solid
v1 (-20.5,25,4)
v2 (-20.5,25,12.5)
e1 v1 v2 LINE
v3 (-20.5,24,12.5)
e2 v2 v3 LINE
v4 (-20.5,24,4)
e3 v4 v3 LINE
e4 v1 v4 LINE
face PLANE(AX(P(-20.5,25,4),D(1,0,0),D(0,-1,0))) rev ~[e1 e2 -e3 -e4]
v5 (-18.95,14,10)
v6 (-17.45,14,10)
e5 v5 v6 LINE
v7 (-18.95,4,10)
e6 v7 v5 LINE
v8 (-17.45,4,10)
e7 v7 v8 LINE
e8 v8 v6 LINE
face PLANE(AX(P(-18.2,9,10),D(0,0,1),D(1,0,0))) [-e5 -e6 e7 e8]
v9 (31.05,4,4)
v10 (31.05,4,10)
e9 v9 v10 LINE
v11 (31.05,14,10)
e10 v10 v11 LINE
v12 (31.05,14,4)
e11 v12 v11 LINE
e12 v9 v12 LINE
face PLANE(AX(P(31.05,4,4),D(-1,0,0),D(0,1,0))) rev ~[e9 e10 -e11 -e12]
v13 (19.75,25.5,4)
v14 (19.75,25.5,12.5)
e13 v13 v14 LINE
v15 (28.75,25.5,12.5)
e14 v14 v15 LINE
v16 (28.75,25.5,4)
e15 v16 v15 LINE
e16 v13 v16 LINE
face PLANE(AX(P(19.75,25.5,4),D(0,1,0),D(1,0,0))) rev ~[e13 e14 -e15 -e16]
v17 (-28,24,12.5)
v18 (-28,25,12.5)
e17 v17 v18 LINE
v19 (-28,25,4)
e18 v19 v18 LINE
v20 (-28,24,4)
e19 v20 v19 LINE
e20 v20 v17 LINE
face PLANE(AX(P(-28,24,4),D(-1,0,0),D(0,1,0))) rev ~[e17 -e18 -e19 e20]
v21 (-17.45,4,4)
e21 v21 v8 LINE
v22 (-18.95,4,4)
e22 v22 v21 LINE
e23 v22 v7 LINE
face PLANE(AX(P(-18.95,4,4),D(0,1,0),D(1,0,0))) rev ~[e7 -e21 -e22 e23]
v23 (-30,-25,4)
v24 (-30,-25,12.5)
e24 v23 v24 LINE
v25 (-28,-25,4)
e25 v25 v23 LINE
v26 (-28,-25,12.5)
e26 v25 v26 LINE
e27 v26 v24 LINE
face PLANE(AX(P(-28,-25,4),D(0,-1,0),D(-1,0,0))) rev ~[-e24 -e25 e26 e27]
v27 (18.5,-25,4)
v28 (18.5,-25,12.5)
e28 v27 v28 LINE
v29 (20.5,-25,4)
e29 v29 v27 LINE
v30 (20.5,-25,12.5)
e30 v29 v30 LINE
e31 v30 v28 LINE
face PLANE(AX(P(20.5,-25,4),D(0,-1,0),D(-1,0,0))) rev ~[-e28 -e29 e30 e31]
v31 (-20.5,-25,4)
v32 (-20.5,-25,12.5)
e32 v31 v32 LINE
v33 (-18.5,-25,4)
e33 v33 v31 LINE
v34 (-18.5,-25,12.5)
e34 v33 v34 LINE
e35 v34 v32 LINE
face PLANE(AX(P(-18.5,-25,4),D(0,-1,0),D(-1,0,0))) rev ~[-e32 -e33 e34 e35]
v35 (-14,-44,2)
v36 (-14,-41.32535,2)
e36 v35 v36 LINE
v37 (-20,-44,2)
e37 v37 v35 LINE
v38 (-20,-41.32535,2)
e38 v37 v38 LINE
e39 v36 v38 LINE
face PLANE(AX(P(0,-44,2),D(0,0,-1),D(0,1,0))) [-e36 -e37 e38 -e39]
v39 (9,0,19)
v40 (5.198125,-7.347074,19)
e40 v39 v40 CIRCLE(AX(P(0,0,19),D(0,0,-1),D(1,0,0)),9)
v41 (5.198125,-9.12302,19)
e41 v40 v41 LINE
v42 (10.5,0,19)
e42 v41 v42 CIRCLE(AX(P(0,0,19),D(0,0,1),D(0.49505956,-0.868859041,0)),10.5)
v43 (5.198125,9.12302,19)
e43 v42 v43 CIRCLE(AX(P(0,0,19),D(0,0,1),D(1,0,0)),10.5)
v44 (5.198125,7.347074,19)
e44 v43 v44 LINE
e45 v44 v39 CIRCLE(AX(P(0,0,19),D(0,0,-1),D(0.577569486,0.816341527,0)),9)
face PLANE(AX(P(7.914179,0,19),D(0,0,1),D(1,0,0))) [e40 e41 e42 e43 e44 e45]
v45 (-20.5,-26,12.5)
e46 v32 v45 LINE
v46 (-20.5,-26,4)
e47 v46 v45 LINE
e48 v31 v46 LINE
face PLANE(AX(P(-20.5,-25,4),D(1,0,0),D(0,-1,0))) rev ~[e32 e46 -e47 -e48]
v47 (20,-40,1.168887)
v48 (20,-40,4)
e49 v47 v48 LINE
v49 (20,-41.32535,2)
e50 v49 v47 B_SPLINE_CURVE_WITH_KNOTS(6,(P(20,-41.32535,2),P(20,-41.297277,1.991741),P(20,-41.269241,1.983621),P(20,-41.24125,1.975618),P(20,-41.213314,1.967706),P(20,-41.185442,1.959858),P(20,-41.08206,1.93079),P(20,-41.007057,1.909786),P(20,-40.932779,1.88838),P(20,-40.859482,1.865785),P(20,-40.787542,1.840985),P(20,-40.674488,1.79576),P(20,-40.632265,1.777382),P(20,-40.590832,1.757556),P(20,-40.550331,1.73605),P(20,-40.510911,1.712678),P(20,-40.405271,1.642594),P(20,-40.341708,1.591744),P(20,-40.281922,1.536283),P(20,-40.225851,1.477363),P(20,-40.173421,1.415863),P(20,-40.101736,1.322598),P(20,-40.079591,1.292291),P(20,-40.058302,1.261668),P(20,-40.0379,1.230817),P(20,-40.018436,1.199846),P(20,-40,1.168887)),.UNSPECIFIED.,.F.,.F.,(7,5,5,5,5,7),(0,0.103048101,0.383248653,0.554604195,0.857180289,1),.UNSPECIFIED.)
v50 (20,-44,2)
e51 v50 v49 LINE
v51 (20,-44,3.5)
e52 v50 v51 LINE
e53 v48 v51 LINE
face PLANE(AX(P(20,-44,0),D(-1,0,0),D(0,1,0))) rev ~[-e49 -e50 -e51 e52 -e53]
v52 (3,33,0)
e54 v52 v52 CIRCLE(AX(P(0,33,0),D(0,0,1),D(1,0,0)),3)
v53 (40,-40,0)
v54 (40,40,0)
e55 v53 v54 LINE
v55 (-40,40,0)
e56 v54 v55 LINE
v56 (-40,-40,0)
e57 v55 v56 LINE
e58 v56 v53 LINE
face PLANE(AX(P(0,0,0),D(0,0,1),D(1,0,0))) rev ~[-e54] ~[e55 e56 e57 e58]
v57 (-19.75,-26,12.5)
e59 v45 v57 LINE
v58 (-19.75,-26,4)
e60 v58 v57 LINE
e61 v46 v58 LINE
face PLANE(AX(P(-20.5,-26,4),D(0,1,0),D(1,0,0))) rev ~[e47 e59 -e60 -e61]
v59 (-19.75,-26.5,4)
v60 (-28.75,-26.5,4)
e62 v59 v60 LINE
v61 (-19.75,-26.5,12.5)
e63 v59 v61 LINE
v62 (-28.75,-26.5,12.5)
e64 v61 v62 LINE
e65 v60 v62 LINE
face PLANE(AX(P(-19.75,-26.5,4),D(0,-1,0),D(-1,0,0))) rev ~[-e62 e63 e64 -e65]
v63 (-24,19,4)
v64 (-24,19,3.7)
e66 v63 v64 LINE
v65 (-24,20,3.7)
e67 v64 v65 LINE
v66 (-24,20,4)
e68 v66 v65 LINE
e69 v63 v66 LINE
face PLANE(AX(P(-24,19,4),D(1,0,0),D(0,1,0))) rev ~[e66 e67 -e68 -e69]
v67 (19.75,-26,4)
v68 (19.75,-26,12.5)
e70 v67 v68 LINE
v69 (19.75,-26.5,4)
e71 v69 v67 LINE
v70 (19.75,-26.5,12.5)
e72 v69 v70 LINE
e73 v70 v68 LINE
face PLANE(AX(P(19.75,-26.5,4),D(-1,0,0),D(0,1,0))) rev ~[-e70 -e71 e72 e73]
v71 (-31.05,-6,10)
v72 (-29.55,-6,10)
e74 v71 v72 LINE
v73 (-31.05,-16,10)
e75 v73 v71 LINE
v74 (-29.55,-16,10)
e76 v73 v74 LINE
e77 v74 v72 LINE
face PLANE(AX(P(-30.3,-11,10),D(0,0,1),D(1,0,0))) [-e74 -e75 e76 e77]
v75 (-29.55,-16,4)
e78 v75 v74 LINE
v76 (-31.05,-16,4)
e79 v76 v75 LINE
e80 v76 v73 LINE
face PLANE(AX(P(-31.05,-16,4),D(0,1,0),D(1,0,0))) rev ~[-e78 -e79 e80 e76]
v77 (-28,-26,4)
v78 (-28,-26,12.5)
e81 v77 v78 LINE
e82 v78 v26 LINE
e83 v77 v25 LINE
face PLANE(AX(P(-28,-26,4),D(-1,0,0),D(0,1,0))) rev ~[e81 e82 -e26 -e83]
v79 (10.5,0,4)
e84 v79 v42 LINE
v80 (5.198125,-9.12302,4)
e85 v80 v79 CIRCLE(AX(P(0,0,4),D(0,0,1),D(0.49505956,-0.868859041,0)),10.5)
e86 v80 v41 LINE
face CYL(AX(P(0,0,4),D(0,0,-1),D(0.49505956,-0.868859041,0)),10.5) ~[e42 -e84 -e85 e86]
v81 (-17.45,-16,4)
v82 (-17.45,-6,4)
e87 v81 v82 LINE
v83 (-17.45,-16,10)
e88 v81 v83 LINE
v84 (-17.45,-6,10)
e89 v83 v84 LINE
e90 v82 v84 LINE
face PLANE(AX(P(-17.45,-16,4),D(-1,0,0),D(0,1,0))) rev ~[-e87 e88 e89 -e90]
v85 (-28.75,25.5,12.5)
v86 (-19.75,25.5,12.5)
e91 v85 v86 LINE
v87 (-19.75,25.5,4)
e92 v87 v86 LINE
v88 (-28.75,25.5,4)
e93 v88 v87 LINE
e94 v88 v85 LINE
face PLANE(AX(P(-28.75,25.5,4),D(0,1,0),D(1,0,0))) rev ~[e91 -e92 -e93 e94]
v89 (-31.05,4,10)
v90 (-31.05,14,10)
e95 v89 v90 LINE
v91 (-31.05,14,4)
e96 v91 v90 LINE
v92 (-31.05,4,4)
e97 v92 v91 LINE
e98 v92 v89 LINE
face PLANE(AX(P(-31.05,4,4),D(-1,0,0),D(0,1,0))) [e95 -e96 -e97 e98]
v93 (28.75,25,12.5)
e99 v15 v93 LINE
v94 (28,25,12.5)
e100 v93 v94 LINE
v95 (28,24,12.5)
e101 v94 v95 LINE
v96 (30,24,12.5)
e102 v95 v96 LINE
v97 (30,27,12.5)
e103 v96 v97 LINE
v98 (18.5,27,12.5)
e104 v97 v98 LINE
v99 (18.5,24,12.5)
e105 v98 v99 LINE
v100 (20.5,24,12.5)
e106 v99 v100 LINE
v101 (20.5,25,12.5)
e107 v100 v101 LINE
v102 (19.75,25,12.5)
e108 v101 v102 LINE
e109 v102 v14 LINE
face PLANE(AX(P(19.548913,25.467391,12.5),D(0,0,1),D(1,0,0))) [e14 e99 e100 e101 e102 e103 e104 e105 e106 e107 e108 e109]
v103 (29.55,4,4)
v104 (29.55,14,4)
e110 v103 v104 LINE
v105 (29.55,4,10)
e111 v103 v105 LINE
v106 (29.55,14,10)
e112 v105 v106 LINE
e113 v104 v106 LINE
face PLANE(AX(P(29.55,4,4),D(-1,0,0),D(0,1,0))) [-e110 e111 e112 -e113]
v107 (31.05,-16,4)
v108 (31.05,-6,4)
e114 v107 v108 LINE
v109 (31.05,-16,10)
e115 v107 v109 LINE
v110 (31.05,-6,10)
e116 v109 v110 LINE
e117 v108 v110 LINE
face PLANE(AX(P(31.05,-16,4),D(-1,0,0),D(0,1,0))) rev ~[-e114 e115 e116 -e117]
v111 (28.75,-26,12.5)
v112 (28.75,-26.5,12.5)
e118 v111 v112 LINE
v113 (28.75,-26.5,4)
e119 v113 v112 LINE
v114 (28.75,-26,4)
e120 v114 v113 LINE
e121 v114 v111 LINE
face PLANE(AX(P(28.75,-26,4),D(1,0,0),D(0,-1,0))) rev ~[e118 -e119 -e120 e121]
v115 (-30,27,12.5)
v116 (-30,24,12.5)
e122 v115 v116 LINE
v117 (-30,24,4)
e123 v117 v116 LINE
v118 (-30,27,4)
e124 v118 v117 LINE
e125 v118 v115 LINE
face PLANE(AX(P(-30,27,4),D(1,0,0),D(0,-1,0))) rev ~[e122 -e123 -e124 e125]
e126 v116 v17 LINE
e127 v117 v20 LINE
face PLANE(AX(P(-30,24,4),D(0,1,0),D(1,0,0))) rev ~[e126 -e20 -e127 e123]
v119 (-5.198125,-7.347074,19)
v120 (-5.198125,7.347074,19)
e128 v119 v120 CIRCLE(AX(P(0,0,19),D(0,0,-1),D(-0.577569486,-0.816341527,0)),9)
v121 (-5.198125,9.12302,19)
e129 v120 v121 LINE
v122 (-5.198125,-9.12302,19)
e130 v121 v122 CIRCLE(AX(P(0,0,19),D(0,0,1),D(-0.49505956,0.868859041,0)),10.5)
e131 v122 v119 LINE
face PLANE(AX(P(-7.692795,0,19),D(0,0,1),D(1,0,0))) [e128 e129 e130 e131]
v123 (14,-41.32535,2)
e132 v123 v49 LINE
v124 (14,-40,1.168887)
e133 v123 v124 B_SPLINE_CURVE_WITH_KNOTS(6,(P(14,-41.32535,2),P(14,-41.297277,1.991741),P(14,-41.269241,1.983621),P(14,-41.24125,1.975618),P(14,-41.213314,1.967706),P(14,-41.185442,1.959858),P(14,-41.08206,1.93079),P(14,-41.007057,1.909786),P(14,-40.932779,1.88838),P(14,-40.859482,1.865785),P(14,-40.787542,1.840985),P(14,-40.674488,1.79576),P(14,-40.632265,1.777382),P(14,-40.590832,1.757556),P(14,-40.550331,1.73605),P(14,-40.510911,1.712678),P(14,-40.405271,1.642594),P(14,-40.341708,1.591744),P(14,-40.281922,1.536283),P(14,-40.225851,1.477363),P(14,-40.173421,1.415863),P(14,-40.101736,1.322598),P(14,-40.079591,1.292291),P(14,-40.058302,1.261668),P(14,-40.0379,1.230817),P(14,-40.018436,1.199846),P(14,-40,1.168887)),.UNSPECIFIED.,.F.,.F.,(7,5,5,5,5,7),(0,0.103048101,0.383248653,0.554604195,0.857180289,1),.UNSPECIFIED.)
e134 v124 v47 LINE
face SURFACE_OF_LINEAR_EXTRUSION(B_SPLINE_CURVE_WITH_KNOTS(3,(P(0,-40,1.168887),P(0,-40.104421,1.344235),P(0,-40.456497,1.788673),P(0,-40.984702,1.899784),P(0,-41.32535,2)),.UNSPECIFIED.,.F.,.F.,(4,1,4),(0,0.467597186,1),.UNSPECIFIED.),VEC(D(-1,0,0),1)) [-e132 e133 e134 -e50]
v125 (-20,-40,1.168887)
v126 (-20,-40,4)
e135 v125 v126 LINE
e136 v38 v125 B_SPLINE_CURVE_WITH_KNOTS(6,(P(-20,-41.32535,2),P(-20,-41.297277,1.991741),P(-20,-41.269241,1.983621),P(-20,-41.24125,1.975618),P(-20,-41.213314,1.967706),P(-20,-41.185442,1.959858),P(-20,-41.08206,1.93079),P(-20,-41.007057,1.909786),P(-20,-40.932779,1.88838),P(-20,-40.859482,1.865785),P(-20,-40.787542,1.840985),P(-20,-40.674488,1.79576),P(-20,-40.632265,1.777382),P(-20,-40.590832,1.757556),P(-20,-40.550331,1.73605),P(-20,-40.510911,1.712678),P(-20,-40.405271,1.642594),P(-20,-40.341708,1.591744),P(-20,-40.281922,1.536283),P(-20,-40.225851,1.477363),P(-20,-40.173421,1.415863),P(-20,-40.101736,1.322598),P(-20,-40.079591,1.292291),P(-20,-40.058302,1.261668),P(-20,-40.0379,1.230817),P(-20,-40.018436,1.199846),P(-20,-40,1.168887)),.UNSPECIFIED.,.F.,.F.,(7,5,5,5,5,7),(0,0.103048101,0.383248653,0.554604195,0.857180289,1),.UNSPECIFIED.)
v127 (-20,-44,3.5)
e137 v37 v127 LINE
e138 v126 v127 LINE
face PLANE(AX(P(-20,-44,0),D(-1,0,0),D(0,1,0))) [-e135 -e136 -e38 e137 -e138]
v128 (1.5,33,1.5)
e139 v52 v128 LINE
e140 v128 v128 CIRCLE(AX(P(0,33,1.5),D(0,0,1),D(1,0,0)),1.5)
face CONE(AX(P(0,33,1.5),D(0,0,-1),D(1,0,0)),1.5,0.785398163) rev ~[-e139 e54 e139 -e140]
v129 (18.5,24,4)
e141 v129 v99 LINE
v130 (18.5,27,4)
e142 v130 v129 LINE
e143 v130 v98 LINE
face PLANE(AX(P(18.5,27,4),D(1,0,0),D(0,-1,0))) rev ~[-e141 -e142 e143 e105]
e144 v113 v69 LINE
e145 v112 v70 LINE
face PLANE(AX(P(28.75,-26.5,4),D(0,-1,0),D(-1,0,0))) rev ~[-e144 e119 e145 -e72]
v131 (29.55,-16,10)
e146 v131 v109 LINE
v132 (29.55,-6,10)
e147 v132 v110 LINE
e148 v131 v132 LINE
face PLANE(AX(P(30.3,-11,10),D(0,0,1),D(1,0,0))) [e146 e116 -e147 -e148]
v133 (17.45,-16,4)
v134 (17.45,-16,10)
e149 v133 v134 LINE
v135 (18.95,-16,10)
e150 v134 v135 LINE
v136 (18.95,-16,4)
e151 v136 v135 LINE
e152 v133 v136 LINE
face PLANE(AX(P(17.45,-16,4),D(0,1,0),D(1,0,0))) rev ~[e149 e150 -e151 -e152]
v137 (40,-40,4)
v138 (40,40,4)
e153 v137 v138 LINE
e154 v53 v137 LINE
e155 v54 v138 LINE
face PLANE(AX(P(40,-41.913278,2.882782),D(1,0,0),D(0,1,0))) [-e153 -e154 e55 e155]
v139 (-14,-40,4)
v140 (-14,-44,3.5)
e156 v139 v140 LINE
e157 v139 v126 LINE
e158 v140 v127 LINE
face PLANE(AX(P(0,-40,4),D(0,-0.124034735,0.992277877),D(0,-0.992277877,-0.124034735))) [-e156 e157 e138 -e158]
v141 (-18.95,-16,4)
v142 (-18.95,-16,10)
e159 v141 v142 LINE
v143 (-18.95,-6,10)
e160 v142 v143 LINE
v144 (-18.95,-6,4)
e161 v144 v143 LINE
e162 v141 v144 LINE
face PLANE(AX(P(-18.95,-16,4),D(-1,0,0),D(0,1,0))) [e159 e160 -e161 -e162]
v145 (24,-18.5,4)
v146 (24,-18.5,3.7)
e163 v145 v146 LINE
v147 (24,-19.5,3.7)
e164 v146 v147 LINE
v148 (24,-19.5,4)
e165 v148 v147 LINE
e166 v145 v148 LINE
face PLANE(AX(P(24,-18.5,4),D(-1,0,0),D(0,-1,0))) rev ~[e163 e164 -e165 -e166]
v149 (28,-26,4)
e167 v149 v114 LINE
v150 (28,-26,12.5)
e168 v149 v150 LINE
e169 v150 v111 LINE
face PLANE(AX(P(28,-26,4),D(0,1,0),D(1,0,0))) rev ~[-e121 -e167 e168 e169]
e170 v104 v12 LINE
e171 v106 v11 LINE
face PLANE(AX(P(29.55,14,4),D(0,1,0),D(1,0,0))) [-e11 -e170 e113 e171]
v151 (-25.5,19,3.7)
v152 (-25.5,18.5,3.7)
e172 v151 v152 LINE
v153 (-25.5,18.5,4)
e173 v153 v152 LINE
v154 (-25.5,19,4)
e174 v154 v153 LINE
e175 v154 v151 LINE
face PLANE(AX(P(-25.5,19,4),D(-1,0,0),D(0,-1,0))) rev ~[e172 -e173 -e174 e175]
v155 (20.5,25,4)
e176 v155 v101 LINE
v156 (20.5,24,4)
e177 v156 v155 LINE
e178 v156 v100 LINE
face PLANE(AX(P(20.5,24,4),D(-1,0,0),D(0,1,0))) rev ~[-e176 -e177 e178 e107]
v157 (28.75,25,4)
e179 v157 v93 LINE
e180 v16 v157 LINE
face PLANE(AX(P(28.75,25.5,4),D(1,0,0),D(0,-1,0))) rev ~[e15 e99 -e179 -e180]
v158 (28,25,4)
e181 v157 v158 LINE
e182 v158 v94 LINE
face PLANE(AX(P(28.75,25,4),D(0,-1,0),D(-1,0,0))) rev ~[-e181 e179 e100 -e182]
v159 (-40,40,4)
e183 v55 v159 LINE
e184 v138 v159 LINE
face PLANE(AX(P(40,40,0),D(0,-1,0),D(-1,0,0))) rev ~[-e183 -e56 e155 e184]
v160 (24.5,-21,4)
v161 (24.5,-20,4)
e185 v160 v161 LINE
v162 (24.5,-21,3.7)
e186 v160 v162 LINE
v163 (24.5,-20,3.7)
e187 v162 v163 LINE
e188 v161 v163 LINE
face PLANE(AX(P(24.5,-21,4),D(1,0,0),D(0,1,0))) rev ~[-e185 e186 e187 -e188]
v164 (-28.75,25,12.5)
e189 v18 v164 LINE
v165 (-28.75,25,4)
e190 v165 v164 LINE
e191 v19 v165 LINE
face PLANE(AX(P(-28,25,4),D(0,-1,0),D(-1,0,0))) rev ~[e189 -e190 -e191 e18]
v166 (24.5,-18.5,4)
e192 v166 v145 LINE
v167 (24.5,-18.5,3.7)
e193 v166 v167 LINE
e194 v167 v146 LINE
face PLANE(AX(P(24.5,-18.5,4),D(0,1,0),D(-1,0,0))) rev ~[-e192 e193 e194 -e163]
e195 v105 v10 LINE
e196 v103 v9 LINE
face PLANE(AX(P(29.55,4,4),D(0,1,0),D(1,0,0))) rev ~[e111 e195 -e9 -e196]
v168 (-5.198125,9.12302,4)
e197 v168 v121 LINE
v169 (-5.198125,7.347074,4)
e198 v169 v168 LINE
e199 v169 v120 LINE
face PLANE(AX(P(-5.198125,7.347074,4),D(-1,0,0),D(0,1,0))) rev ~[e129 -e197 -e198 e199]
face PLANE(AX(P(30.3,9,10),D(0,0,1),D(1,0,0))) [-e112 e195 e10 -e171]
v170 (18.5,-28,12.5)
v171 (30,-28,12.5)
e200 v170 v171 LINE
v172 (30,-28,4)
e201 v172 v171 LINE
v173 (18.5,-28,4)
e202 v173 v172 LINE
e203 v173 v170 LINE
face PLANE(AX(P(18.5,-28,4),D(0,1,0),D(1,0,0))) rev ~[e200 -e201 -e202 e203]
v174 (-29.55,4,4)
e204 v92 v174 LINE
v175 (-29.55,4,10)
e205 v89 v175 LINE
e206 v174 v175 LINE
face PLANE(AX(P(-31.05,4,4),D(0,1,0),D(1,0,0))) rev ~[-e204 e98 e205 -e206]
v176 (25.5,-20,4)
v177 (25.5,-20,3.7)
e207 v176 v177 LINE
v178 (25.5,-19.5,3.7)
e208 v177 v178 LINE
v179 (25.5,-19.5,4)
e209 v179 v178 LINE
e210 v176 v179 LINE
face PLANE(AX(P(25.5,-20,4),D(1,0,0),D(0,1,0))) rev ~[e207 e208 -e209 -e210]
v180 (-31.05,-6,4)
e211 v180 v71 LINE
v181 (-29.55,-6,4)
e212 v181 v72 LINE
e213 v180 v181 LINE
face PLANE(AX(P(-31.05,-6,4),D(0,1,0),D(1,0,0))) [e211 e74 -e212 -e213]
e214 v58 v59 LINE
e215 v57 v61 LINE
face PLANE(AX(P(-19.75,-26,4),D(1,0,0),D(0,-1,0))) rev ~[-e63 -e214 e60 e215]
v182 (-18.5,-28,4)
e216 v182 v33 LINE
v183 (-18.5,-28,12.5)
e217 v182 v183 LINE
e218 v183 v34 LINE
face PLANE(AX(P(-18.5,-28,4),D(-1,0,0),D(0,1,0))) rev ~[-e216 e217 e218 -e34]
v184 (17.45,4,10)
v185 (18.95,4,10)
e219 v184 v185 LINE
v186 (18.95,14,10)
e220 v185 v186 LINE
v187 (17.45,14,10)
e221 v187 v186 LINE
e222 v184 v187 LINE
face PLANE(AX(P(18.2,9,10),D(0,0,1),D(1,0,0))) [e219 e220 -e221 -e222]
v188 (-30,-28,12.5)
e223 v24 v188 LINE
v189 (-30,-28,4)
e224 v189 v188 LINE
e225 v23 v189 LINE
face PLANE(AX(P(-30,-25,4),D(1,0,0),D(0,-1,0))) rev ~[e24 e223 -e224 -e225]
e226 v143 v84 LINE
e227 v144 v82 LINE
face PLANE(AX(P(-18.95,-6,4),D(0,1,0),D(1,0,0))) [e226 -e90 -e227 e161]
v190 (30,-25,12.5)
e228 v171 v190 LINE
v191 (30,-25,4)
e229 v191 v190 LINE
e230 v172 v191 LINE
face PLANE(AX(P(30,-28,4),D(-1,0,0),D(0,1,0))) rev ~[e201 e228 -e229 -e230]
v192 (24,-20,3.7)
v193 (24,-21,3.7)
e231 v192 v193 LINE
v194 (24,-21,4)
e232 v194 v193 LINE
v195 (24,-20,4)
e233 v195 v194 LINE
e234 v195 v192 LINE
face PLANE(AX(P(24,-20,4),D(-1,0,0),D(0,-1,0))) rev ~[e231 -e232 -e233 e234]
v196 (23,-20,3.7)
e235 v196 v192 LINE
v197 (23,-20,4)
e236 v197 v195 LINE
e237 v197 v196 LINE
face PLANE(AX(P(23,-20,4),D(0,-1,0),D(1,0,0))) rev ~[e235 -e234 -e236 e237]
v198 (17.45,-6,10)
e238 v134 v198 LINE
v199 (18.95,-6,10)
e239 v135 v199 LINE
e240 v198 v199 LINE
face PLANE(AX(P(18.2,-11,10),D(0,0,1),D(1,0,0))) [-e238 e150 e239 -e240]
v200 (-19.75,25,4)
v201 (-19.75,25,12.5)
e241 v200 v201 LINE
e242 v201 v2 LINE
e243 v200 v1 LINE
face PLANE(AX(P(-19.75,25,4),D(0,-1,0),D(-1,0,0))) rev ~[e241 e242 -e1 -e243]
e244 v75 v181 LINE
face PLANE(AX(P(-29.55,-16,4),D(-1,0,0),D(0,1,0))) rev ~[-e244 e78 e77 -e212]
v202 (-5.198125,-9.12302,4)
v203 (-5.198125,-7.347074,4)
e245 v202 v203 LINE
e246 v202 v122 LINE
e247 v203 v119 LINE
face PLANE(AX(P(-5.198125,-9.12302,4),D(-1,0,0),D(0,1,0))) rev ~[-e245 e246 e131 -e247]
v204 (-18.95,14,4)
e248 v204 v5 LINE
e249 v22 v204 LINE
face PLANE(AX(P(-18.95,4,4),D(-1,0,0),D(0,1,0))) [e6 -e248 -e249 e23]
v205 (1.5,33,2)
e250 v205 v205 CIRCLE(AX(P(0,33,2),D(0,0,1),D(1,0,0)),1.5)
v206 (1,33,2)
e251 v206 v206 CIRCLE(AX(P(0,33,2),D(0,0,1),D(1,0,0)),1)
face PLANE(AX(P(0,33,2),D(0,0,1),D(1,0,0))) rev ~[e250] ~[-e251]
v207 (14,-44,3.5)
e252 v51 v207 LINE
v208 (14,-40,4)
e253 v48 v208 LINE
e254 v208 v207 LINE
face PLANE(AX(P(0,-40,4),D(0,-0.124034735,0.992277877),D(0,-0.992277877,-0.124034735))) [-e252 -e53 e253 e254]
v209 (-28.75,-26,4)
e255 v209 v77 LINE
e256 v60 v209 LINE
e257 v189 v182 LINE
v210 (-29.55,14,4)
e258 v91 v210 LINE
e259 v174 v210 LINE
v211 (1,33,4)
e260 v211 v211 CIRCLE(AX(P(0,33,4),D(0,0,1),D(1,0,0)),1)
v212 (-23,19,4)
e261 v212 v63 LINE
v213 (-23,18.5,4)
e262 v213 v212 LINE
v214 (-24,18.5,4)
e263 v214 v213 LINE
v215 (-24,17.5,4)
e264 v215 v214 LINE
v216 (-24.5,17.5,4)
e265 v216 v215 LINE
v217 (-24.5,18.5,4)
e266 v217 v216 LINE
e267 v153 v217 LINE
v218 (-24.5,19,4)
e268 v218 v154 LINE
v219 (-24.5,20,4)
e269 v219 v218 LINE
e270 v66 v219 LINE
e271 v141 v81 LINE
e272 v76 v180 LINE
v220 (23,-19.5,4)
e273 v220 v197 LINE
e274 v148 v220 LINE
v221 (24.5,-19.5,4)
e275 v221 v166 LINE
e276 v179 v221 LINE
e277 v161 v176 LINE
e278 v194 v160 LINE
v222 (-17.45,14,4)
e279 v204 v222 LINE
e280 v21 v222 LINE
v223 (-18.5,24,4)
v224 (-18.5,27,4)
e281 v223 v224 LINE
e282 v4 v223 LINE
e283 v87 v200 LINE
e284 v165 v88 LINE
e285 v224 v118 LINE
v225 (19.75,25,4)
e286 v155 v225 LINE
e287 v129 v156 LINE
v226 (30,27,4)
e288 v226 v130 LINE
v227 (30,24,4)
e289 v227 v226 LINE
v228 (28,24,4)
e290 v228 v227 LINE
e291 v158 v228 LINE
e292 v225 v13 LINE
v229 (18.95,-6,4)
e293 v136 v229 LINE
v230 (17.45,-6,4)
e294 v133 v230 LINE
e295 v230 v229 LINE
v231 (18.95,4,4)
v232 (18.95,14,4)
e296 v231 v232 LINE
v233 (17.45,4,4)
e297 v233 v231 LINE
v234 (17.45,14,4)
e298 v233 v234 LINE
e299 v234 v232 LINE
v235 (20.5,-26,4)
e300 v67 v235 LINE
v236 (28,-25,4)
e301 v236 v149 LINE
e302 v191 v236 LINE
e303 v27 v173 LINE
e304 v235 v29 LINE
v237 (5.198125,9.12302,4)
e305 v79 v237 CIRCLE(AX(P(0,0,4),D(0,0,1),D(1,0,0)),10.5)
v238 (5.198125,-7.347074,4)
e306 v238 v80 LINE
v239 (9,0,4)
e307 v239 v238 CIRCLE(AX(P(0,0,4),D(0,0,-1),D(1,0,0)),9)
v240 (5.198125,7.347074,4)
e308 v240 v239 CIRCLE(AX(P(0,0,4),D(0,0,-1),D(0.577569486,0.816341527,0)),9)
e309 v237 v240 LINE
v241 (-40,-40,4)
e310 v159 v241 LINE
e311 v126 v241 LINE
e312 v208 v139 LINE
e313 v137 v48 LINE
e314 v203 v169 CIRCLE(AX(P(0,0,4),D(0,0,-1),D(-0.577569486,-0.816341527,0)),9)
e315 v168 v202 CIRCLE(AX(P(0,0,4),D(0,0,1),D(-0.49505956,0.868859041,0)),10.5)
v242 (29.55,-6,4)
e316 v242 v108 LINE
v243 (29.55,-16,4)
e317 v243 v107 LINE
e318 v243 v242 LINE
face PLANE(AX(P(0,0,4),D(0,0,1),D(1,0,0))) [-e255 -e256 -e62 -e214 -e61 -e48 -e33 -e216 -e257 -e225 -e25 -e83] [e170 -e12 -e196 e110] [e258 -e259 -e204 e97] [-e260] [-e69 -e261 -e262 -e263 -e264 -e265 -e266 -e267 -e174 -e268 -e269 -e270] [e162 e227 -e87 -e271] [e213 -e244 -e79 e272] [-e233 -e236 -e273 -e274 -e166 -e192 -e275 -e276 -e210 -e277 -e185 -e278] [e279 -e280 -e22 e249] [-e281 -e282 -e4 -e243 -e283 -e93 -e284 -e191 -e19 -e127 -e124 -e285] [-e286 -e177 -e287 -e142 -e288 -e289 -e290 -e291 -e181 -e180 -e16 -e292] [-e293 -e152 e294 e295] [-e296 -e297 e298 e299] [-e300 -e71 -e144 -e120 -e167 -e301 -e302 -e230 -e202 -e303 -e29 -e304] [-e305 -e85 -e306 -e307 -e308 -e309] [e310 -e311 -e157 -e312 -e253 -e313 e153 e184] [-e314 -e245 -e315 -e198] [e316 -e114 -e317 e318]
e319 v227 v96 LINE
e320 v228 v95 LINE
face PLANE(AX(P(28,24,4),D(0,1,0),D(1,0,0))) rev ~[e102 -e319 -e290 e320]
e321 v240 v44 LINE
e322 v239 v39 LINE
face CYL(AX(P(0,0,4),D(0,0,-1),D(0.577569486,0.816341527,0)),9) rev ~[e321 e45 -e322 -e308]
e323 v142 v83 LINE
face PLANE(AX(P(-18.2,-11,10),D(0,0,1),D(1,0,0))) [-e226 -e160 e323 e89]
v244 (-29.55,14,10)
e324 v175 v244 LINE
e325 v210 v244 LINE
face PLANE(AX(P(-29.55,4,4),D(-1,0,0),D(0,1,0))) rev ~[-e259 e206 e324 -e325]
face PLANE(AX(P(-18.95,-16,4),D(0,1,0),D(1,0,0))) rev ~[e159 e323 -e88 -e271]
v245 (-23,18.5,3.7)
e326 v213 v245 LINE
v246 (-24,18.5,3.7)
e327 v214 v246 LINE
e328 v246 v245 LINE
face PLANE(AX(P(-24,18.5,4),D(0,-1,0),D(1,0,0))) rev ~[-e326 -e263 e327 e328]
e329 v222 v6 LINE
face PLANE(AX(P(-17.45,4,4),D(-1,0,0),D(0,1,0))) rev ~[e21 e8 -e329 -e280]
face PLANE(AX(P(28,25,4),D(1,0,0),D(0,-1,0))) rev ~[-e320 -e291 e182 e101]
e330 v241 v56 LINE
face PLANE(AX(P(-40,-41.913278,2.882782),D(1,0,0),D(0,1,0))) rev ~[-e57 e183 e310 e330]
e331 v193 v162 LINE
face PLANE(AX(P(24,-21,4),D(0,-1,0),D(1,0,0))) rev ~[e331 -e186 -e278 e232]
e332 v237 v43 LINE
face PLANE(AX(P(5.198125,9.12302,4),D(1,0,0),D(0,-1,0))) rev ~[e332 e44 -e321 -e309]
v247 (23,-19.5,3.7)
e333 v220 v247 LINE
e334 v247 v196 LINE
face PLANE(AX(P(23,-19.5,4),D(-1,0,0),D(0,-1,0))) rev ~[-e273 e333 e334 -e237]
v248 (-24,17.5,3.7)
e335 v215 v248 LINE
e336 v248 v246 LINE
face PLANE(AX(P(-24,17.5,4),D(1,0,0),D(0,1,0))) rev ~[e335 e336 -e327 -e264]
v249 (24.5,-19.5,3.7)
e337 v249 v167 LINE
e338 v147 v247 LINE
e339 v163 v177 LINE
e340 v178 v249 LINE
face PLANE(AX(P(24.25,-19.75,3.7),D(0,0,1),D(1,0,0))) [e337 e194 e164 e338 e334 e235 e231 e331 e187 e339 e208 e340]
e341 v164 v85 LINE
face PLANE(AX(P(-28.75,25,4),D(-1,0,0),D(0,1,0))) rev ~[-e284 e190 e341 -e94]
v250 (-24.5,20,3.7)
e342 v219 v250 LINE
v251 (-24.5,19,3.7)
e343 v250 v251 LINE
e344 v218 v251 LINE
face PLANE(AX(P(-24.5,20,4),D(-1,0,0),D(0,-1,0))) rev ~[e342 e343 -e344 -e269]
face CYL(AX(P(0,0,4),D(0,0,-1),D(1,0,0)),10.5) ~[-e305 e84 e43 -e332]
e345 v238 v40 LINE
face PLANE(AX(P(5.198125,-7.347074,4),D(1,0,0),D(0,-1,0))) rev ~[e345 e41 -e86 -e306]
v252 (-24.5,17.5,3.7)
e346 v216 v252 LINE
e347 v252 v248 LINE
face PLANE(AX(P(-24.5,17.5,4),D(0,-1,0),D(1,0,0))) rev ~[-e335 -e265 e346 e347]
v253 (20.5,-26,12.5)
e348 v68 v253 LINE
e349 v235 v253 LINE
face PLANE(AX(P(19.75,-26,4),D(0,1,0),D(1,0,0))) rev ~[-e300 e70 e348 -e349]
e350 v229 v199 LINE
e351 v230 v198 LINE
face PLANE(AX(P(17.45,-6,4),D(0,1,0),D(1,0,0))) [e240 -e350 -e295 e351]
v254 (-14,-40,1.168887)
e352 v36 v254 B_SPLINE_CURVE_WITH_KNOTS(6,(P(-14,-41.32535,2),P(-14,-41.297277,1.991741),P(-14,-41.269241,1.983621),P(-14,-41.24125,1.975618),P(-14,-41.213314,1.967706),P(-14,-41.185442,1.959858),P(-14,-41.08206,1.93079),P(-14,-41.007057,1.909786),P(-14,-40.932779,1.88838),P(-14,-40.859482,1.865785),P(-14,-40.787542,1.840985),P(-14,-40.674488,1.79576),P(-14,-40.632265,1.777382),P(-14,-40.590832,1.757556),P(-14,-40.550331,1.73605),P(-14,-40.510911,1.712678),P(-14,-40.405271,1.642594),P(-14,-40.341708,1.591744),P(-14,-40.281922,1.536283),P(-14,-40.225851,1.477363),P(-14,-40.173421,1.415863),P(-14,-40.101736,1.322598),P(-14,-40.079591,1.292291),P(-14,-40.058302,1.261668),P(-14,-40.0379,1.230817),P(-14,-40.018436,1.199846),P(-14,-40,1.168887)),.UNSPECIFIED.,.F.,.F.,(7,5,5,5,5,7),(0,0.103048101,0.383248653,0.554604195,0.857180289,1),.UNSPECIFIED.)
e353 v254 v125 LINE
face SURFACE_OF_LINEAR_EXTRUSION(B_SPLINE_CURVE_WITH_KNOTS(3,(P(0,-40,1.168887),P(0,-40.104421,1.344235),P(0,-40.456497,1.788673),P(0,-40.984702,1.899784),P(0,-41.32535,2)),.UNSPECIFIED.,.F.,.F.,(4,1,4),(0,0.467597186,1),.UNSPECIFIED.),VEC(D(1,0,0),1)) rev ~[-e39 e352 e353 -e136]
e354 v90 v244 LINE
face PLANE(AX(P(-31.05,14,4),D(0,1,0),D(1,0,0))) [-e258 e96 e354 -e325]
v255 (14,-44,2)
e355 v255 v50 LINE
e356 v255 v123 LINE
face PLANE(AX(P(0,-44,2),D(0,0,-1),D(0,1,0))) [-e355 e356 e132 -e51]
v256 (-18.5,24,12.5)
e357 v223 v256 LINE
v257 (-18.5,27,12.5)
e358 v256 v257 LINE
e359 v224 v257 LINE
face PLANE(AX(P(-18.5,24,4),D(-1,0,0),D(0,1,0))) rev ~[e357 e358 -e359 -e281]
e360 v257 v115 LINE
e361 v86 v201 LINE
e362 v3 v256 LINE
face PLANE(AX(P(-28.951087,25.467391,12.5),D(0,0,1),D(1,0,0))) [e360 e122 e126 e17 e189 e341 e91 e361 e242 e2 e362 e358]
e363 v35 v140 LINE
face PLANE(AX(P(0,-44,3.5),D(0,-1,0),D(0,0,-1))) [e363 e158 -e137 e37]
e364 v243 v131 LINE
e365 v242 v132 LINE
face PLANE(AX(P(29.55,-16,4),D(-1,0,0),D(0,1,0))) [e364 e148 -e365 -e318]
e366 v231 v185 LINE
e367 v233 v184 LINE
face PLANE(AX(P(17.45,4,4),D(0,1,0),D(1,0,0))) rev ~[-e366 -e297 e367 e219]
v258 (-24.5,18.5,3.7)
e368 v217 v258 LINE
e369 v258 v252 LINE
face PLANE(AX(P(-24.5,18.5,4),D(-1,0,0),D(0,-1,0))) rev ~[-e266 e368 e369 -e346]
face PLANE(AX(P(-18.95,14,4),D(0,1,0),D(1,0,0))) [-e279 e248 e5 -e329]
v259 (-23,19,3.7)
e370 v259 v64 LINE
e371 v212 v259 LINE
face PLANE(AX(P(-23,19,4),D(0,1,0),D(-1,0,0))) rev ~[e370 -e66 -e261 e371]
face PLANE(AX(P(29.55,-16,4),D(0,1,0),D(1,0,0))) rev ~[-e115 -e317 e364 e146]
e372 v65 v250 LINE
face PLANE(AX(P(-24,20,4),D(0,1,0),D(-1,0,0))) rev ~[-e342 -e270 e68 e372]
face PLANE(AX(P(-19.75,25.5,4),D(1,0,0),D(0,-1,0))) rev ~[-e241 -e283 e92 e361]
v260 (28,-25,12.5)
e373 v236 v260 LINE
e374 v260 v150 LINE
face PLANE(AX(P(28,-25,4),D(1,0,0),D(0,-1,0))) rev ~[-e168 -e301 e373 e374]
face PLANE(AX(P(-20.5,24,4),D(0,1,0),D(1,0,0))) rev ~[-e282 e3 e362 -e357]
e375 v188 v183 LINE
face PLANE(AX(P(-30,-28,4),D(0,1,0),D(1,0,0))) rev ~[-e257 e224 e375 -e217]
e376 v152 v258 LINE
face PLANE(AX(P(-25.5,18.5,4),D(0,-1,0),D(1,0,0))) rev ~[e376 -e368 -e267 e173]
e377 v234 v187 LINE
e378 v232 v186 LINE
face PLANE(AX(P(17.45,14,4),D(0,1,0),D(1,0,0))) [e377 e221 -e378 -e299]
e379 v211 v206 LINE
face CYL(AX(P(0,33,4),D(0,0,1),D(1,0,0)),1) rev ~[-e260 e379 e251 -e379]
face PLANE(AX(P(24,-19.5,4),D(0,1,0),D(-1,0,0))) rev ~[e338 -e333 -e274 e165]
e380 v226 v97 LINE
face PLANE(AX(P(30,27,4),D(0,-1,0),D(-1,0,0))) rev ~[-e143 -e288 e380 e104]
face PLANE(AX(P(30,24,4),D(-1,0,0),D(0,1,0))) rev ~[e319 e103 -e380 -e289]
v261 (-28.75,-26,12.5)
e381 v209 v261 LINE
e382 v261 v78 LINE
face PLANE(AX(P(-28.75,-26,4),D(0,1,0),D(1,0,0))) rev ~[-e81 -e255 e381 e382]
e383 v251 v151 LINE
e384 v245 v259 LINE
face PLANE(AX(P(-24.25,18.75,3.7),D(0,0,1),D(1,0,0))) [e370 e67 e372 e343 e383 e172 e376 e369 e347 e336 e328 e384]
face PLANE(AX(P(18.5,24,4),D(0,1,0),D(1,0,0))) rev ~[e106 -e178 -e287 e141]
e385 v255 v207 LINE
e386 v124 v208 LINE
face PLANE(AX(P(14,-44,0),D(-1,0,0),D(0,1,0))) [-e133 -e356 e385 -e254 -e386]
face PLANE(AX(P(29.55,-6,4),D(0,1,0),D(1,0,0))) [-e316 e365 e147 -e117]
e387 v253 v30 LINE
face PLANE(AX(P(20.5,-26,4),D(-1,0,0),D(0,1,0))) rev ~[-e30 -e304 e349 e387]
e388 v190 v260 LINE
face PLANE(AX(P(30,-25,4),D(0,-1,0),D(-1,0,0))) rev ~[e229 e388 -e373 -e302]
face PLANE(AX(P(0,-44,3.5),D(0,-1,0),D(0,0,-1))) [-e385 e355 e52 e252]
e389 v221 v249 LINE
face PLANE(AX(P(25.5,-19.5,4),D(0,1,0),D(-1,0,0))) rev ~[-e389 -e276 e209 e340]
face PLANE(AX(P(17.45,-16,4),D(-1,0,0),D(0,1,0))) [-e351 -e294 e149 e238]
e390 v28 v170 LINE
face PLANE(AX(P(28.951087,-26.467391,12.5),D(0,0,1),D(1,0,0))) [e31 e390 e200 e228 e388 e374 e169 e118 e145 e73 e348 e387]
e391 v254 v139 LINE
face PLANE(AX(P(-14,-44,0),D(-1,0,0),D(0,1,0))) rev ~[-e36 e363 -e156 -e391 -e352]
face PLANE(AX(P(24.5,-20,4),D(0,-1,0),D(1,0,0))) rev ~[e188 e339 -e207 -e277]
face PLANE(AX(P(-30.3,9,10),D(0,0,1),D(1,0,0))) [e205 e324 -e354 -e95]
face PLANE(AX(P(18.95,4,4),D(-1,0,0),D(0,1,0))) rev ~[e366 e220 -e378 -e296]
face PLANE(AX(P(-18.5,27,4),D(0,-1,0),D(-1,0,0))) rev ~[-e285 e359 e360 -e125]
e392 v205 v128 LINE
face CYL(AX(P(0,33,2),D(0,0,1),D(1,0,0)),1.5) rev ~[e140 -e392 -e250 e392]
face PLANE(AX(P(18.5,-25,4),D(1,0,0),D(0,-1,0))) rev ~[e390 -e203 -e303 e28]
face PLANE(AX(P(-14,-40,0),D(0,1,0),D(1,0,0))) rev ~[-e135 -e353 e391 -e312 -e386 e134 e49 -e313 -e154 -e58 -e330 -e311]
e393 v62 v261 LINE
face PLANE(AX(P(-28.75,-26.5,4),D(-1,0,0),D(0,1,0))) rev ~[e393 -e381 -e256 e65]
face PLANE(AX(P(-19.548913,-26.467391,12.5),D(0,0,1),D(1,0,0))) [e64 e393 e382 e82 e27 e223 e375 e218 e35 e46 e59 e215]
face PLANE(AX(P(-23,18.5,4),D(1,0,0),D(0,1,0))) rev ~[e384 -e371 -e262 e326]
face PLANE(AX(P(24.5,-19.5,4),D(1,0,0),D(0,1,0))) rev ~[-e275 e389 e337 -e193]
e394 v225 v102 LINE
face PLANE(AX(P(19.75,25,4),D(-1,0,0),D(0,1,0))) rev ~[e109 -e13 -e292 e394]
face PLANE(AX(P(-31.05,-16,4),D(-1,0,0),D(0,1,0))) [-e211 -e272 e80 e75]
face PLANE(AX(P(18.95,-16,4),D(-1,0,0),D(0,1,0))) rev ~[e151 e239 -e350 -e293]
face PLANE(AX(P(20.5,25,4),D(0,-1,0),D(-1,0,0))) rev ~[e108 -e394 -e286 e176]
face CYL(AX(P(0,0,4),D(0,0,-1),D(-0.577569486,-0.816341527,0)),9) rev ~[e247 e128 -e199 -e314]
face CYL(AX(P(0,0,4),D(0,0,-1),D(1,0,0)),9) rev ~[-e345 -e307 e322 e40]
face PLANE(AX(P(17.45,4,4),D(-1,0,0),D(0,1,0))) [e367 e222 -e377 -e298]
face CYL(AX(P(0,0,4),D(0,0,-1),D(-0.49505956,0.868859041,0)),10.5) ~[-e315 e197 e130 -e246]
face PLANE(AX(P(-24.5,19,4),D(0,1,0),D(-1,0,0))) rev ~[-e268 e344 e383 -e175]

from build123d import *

# Parameters (mm, degrees)
F1_DEPTH       = 4
F2_W           = 1.5
F2_H           = 10
F3_DEPTH       = 6
F2_W_2         = 7.5
F2_H_2         = 1.5
F4_DEPTH       = 8.5
F5_R           = 1
F6_DEPTH       = 25
F7_START       = -2
F5_R_2         = 1.5
F7_DEPTH       = 23
F8_SIZE        = 1.5
F10_DEPTH      = 40
F10_DEPTH_BACK = 40
F0_W           = 20
F0_H           = 4
F0_W_2         = 28
F11_DEPTH      = 18.6
F12_DEPTH      = 0.3
F14_DEPTH      = 15


with BuildPart() as f1:
    # F0 (on Top) → F1 (new body)
    with BuildSketch(Plane.XY):
        Polygon((40, 40), (-40, 40), (-40, -40), (-20, -40), (-14, -40), (14, -40), (20, -40), (40, -40), align=None)
    extrude(amount=F1_DEPTH)

    # F2 (on face) → F3 (join)
    with BuildSketch(Plane.XY.offset(4)):
        with Locations((-30.3, -11)):
            Rectangle(F2_W, F2_H)
        with Locations((-18.2, -11)):
            Rectangle(F2_W, F2_H)
        with Locations((-18.2, 9)):
            Rectangle(F2_W, F2_H)
        with Locations((-30.3, 9)):
            Rectangle(F2_W, F2_H)
        with Locations((18.2, -11)):
            Rectangle(F2_W, F2_H)
        with Locations((18.2, 9)):
            Rectangle(F2_W, F2_H)
        with Locations((30.3, 9)):
            Rectangle(F2_W, F2_H)
        with Locations((30.3, -11)):
            Rectangle(F2_W, F2_H)
    extrude(amount=F3_DEPTH)

    # F2 (on face) → F4 (join)
    with BuildSketch(Plane.XY.offset(4)):
        Polygon((-28, 27), (-30, 27), (-30, 24), (-28, 24), (-28, 25), (-28.75, 25), (-28.75, 25.5), (-28, 25.5), align=None)
        with Locations((-24.25, 26.25)):
            Rectangle(F2_W_2, F2_H_2)
        Polygon((-18.5, 27), (-20.5, 27), (-20.5, 25.5), (-19.75, 25.5), (-19.75, 25), (-20.5, 25), (-20.5, 24), (-18.5, 24), align=None)
        Polygon((-20.5, -28), (-18.5, -28), (-18.5, -25), (-20.5, -25), (-20.5, -26), (-19.75, -26), (-19.75, -26.5), (-20.5, -26.5), align=None)
        with Locations((-24.25, -27.25)):
            Rectangle(F2_W_2, F2_H_2)
        Polygon((-30, -28), (-28, -28), (-28, -26.5), (-28.75, -26.5), (-28.75, -26), (-28, -26), (-28, -25), (-30, -25), align=None)
        Polygon((20.5, 27), (18.5, 27), (18.5, 24), (20.5, 24), (20.5, 25), (19.75, 25), (19.75, 25.5), (20.5, 25.5), align=None)
        with Locations((24.25, 26.25)):
            Rectangle(F2_W_2, F2_H_2)
        Polygon((30, 27), (28, 27), (28, 25.5), (28.75, 25.5), (28.75, 25), (28, 25), (28, 24), (30, 24), align=None)
        Polygon((28, -28), (30, -28), (30, -25), (28, -25), (28, -26), (28.75, -26), (28.75, -26.5), (28, -26.5), align=None)
        with Locations((24.25, -27.25)):
            Rectangle(F2_W_2, F2_H_2)
        Polygon((18.5, -28), (20.5, -28), (20.5, -26.5), (19.75, -26.5), (19.75, -26), (20.5, -26), (20.5, -25), (18.5, -25), align=None)
    extrude(amount=F4_DEPTH)

    # F5 (on face) → F6 (cut)
    with BuildSketch(Plane.XY.offset(4)):
        with Locations((0, 33)):
            Circle(F5_R)
    extrude(amount=-F6_DEPTH, mode=Mode.SUBTRACT)

    # F5 (on face) → F7 (cut)
    with BuildSketch(Plane.XY.offset(4).offset(F7_START)):
        with Locations((0, 33)):
            Circle(F5_R_2)
        with Locations((0, 33)):
            Circle(F5_R, mode=Mode.SUBTRACT)
    extrude(amount=-F7_DEPTH, mode=Mode.SUBTRACT)

    # F8
    f8_edges = [f1.edges().sort_by_distance(p)[0] for p in [
        (-1.5, 33, 0),
    ]]
    chamfer(f8_edges, length=F8_SIZE)

    # F9 (on Right) → F10 (join, two sides)
    with BuildSketch(Plane.YZ) as f10_sk:
        Polygon((-44, 3.5), (-44, 2), (-41.3253502548, 2), (-40, 2), (-40, 4), align=None)
        with BuildLine():
            Line((-40, 2), (-41.3253502548, 2))
            add(Edge.make_bspline(
                [(-40, 1.1688865488), (-40.1044214362, 1.3442346056), (-40.4564972437, 1.788672813), (-40.9847019479, 1.899783813), (-41.3253502548, 2)],
                knots=[0, 0, 0, 0, 0.4675971857, 1, 1, 1, 1], degree=3))
            Line((-40, 1.1688865488), (-40, 2))
        make_face()
    extrude(amount=F10_DEPTH)
    extrude(f10_sk.sketch, amount=-F10_DEPTH_BACK)

    # F0 (on Top) → F11 (cut)
    with BuildSketch(Plane.XY):
        with Locations((-30, -42)):
            Rectangle(F0_W, F0_H)
        with Locations((0, -42)):
            Rectangle(F0_W_2, F0_H)
        with Locations((30, -42)):
            Rectangle(F0_W, F0_H)
    extrude(amount=F11_DEPTH, mode=Mode.SUBTRACT)

    # F2 (on face) → F12 (cut)
    with BuildSketch(Plane.XY.offset(4)):
        Polygon((-24, 20), (-24.5, 20), (-24.5, 19), (-25.5, 19), (-25.5, 18.5), (-24.5, 18.5), (-24.5, 17.5), (-24, 17.5), (-24, 18.5), (-23, 18.5), (-23, 19), (-24, 19), align=None)
        Polygon((24.5, -18.5), (24, -18.5), (24, -19.5), (23, -19.5), (23, -20), (24, -20), (24, -21), (24.5, -21), (24.5, -20), (25.5, -20), (25.5, -19.5), (24.5, -19.5), align=None)
    extrude(amount=-F12_DEPTH, mode=Mode.SUBTRACT)

    # F13 (on face) → F14 (join)
    with BuildSketch(Plane.XY.offset(4)):
        with BuildLine():
            ThreePointArc((-5.1981253765, -7.347073742), (-9, 0), (-5.1981253765, 7.347073742))
            Line((-5.1981253765, 7.347073742), (-5.1981253765, 9.123019926))
            ThreePointArc((-5.1981253765, 9.123019926), (-10.5, 0), (-5.1981253765, -9.123019926))
            Line((-5.1981253765, -9.123019926), (-5.1981253765, -7.347073742))
        make_face()
        with BuildLine():
            ThreePointArc((5.1981253765, 7.347073742), (7.993219889, 4.136234496), (9, 0))
            ThreePointArc((9, 0), (7.993219889, -4.136234496), (5.1981253765, -7.347073742))
            Line((5.1981253765, -7.347073742), (5.1981253765, -9.123019926))
            ThreePointArc((5.1981253765, -9.123019926), (9.078279475, -5.2758735555), (10.5, 0))
            ThreePointArc((10.5, 0), (9.078279475, 5.2758735555), (5.1981253765, 9.123019926))
            Line((5.1981253765, 9.123019926), (5.1981253765, 7.347073742))
        make_face()
    extrude(amount=F14_DEPTH)


solid = f1.part
